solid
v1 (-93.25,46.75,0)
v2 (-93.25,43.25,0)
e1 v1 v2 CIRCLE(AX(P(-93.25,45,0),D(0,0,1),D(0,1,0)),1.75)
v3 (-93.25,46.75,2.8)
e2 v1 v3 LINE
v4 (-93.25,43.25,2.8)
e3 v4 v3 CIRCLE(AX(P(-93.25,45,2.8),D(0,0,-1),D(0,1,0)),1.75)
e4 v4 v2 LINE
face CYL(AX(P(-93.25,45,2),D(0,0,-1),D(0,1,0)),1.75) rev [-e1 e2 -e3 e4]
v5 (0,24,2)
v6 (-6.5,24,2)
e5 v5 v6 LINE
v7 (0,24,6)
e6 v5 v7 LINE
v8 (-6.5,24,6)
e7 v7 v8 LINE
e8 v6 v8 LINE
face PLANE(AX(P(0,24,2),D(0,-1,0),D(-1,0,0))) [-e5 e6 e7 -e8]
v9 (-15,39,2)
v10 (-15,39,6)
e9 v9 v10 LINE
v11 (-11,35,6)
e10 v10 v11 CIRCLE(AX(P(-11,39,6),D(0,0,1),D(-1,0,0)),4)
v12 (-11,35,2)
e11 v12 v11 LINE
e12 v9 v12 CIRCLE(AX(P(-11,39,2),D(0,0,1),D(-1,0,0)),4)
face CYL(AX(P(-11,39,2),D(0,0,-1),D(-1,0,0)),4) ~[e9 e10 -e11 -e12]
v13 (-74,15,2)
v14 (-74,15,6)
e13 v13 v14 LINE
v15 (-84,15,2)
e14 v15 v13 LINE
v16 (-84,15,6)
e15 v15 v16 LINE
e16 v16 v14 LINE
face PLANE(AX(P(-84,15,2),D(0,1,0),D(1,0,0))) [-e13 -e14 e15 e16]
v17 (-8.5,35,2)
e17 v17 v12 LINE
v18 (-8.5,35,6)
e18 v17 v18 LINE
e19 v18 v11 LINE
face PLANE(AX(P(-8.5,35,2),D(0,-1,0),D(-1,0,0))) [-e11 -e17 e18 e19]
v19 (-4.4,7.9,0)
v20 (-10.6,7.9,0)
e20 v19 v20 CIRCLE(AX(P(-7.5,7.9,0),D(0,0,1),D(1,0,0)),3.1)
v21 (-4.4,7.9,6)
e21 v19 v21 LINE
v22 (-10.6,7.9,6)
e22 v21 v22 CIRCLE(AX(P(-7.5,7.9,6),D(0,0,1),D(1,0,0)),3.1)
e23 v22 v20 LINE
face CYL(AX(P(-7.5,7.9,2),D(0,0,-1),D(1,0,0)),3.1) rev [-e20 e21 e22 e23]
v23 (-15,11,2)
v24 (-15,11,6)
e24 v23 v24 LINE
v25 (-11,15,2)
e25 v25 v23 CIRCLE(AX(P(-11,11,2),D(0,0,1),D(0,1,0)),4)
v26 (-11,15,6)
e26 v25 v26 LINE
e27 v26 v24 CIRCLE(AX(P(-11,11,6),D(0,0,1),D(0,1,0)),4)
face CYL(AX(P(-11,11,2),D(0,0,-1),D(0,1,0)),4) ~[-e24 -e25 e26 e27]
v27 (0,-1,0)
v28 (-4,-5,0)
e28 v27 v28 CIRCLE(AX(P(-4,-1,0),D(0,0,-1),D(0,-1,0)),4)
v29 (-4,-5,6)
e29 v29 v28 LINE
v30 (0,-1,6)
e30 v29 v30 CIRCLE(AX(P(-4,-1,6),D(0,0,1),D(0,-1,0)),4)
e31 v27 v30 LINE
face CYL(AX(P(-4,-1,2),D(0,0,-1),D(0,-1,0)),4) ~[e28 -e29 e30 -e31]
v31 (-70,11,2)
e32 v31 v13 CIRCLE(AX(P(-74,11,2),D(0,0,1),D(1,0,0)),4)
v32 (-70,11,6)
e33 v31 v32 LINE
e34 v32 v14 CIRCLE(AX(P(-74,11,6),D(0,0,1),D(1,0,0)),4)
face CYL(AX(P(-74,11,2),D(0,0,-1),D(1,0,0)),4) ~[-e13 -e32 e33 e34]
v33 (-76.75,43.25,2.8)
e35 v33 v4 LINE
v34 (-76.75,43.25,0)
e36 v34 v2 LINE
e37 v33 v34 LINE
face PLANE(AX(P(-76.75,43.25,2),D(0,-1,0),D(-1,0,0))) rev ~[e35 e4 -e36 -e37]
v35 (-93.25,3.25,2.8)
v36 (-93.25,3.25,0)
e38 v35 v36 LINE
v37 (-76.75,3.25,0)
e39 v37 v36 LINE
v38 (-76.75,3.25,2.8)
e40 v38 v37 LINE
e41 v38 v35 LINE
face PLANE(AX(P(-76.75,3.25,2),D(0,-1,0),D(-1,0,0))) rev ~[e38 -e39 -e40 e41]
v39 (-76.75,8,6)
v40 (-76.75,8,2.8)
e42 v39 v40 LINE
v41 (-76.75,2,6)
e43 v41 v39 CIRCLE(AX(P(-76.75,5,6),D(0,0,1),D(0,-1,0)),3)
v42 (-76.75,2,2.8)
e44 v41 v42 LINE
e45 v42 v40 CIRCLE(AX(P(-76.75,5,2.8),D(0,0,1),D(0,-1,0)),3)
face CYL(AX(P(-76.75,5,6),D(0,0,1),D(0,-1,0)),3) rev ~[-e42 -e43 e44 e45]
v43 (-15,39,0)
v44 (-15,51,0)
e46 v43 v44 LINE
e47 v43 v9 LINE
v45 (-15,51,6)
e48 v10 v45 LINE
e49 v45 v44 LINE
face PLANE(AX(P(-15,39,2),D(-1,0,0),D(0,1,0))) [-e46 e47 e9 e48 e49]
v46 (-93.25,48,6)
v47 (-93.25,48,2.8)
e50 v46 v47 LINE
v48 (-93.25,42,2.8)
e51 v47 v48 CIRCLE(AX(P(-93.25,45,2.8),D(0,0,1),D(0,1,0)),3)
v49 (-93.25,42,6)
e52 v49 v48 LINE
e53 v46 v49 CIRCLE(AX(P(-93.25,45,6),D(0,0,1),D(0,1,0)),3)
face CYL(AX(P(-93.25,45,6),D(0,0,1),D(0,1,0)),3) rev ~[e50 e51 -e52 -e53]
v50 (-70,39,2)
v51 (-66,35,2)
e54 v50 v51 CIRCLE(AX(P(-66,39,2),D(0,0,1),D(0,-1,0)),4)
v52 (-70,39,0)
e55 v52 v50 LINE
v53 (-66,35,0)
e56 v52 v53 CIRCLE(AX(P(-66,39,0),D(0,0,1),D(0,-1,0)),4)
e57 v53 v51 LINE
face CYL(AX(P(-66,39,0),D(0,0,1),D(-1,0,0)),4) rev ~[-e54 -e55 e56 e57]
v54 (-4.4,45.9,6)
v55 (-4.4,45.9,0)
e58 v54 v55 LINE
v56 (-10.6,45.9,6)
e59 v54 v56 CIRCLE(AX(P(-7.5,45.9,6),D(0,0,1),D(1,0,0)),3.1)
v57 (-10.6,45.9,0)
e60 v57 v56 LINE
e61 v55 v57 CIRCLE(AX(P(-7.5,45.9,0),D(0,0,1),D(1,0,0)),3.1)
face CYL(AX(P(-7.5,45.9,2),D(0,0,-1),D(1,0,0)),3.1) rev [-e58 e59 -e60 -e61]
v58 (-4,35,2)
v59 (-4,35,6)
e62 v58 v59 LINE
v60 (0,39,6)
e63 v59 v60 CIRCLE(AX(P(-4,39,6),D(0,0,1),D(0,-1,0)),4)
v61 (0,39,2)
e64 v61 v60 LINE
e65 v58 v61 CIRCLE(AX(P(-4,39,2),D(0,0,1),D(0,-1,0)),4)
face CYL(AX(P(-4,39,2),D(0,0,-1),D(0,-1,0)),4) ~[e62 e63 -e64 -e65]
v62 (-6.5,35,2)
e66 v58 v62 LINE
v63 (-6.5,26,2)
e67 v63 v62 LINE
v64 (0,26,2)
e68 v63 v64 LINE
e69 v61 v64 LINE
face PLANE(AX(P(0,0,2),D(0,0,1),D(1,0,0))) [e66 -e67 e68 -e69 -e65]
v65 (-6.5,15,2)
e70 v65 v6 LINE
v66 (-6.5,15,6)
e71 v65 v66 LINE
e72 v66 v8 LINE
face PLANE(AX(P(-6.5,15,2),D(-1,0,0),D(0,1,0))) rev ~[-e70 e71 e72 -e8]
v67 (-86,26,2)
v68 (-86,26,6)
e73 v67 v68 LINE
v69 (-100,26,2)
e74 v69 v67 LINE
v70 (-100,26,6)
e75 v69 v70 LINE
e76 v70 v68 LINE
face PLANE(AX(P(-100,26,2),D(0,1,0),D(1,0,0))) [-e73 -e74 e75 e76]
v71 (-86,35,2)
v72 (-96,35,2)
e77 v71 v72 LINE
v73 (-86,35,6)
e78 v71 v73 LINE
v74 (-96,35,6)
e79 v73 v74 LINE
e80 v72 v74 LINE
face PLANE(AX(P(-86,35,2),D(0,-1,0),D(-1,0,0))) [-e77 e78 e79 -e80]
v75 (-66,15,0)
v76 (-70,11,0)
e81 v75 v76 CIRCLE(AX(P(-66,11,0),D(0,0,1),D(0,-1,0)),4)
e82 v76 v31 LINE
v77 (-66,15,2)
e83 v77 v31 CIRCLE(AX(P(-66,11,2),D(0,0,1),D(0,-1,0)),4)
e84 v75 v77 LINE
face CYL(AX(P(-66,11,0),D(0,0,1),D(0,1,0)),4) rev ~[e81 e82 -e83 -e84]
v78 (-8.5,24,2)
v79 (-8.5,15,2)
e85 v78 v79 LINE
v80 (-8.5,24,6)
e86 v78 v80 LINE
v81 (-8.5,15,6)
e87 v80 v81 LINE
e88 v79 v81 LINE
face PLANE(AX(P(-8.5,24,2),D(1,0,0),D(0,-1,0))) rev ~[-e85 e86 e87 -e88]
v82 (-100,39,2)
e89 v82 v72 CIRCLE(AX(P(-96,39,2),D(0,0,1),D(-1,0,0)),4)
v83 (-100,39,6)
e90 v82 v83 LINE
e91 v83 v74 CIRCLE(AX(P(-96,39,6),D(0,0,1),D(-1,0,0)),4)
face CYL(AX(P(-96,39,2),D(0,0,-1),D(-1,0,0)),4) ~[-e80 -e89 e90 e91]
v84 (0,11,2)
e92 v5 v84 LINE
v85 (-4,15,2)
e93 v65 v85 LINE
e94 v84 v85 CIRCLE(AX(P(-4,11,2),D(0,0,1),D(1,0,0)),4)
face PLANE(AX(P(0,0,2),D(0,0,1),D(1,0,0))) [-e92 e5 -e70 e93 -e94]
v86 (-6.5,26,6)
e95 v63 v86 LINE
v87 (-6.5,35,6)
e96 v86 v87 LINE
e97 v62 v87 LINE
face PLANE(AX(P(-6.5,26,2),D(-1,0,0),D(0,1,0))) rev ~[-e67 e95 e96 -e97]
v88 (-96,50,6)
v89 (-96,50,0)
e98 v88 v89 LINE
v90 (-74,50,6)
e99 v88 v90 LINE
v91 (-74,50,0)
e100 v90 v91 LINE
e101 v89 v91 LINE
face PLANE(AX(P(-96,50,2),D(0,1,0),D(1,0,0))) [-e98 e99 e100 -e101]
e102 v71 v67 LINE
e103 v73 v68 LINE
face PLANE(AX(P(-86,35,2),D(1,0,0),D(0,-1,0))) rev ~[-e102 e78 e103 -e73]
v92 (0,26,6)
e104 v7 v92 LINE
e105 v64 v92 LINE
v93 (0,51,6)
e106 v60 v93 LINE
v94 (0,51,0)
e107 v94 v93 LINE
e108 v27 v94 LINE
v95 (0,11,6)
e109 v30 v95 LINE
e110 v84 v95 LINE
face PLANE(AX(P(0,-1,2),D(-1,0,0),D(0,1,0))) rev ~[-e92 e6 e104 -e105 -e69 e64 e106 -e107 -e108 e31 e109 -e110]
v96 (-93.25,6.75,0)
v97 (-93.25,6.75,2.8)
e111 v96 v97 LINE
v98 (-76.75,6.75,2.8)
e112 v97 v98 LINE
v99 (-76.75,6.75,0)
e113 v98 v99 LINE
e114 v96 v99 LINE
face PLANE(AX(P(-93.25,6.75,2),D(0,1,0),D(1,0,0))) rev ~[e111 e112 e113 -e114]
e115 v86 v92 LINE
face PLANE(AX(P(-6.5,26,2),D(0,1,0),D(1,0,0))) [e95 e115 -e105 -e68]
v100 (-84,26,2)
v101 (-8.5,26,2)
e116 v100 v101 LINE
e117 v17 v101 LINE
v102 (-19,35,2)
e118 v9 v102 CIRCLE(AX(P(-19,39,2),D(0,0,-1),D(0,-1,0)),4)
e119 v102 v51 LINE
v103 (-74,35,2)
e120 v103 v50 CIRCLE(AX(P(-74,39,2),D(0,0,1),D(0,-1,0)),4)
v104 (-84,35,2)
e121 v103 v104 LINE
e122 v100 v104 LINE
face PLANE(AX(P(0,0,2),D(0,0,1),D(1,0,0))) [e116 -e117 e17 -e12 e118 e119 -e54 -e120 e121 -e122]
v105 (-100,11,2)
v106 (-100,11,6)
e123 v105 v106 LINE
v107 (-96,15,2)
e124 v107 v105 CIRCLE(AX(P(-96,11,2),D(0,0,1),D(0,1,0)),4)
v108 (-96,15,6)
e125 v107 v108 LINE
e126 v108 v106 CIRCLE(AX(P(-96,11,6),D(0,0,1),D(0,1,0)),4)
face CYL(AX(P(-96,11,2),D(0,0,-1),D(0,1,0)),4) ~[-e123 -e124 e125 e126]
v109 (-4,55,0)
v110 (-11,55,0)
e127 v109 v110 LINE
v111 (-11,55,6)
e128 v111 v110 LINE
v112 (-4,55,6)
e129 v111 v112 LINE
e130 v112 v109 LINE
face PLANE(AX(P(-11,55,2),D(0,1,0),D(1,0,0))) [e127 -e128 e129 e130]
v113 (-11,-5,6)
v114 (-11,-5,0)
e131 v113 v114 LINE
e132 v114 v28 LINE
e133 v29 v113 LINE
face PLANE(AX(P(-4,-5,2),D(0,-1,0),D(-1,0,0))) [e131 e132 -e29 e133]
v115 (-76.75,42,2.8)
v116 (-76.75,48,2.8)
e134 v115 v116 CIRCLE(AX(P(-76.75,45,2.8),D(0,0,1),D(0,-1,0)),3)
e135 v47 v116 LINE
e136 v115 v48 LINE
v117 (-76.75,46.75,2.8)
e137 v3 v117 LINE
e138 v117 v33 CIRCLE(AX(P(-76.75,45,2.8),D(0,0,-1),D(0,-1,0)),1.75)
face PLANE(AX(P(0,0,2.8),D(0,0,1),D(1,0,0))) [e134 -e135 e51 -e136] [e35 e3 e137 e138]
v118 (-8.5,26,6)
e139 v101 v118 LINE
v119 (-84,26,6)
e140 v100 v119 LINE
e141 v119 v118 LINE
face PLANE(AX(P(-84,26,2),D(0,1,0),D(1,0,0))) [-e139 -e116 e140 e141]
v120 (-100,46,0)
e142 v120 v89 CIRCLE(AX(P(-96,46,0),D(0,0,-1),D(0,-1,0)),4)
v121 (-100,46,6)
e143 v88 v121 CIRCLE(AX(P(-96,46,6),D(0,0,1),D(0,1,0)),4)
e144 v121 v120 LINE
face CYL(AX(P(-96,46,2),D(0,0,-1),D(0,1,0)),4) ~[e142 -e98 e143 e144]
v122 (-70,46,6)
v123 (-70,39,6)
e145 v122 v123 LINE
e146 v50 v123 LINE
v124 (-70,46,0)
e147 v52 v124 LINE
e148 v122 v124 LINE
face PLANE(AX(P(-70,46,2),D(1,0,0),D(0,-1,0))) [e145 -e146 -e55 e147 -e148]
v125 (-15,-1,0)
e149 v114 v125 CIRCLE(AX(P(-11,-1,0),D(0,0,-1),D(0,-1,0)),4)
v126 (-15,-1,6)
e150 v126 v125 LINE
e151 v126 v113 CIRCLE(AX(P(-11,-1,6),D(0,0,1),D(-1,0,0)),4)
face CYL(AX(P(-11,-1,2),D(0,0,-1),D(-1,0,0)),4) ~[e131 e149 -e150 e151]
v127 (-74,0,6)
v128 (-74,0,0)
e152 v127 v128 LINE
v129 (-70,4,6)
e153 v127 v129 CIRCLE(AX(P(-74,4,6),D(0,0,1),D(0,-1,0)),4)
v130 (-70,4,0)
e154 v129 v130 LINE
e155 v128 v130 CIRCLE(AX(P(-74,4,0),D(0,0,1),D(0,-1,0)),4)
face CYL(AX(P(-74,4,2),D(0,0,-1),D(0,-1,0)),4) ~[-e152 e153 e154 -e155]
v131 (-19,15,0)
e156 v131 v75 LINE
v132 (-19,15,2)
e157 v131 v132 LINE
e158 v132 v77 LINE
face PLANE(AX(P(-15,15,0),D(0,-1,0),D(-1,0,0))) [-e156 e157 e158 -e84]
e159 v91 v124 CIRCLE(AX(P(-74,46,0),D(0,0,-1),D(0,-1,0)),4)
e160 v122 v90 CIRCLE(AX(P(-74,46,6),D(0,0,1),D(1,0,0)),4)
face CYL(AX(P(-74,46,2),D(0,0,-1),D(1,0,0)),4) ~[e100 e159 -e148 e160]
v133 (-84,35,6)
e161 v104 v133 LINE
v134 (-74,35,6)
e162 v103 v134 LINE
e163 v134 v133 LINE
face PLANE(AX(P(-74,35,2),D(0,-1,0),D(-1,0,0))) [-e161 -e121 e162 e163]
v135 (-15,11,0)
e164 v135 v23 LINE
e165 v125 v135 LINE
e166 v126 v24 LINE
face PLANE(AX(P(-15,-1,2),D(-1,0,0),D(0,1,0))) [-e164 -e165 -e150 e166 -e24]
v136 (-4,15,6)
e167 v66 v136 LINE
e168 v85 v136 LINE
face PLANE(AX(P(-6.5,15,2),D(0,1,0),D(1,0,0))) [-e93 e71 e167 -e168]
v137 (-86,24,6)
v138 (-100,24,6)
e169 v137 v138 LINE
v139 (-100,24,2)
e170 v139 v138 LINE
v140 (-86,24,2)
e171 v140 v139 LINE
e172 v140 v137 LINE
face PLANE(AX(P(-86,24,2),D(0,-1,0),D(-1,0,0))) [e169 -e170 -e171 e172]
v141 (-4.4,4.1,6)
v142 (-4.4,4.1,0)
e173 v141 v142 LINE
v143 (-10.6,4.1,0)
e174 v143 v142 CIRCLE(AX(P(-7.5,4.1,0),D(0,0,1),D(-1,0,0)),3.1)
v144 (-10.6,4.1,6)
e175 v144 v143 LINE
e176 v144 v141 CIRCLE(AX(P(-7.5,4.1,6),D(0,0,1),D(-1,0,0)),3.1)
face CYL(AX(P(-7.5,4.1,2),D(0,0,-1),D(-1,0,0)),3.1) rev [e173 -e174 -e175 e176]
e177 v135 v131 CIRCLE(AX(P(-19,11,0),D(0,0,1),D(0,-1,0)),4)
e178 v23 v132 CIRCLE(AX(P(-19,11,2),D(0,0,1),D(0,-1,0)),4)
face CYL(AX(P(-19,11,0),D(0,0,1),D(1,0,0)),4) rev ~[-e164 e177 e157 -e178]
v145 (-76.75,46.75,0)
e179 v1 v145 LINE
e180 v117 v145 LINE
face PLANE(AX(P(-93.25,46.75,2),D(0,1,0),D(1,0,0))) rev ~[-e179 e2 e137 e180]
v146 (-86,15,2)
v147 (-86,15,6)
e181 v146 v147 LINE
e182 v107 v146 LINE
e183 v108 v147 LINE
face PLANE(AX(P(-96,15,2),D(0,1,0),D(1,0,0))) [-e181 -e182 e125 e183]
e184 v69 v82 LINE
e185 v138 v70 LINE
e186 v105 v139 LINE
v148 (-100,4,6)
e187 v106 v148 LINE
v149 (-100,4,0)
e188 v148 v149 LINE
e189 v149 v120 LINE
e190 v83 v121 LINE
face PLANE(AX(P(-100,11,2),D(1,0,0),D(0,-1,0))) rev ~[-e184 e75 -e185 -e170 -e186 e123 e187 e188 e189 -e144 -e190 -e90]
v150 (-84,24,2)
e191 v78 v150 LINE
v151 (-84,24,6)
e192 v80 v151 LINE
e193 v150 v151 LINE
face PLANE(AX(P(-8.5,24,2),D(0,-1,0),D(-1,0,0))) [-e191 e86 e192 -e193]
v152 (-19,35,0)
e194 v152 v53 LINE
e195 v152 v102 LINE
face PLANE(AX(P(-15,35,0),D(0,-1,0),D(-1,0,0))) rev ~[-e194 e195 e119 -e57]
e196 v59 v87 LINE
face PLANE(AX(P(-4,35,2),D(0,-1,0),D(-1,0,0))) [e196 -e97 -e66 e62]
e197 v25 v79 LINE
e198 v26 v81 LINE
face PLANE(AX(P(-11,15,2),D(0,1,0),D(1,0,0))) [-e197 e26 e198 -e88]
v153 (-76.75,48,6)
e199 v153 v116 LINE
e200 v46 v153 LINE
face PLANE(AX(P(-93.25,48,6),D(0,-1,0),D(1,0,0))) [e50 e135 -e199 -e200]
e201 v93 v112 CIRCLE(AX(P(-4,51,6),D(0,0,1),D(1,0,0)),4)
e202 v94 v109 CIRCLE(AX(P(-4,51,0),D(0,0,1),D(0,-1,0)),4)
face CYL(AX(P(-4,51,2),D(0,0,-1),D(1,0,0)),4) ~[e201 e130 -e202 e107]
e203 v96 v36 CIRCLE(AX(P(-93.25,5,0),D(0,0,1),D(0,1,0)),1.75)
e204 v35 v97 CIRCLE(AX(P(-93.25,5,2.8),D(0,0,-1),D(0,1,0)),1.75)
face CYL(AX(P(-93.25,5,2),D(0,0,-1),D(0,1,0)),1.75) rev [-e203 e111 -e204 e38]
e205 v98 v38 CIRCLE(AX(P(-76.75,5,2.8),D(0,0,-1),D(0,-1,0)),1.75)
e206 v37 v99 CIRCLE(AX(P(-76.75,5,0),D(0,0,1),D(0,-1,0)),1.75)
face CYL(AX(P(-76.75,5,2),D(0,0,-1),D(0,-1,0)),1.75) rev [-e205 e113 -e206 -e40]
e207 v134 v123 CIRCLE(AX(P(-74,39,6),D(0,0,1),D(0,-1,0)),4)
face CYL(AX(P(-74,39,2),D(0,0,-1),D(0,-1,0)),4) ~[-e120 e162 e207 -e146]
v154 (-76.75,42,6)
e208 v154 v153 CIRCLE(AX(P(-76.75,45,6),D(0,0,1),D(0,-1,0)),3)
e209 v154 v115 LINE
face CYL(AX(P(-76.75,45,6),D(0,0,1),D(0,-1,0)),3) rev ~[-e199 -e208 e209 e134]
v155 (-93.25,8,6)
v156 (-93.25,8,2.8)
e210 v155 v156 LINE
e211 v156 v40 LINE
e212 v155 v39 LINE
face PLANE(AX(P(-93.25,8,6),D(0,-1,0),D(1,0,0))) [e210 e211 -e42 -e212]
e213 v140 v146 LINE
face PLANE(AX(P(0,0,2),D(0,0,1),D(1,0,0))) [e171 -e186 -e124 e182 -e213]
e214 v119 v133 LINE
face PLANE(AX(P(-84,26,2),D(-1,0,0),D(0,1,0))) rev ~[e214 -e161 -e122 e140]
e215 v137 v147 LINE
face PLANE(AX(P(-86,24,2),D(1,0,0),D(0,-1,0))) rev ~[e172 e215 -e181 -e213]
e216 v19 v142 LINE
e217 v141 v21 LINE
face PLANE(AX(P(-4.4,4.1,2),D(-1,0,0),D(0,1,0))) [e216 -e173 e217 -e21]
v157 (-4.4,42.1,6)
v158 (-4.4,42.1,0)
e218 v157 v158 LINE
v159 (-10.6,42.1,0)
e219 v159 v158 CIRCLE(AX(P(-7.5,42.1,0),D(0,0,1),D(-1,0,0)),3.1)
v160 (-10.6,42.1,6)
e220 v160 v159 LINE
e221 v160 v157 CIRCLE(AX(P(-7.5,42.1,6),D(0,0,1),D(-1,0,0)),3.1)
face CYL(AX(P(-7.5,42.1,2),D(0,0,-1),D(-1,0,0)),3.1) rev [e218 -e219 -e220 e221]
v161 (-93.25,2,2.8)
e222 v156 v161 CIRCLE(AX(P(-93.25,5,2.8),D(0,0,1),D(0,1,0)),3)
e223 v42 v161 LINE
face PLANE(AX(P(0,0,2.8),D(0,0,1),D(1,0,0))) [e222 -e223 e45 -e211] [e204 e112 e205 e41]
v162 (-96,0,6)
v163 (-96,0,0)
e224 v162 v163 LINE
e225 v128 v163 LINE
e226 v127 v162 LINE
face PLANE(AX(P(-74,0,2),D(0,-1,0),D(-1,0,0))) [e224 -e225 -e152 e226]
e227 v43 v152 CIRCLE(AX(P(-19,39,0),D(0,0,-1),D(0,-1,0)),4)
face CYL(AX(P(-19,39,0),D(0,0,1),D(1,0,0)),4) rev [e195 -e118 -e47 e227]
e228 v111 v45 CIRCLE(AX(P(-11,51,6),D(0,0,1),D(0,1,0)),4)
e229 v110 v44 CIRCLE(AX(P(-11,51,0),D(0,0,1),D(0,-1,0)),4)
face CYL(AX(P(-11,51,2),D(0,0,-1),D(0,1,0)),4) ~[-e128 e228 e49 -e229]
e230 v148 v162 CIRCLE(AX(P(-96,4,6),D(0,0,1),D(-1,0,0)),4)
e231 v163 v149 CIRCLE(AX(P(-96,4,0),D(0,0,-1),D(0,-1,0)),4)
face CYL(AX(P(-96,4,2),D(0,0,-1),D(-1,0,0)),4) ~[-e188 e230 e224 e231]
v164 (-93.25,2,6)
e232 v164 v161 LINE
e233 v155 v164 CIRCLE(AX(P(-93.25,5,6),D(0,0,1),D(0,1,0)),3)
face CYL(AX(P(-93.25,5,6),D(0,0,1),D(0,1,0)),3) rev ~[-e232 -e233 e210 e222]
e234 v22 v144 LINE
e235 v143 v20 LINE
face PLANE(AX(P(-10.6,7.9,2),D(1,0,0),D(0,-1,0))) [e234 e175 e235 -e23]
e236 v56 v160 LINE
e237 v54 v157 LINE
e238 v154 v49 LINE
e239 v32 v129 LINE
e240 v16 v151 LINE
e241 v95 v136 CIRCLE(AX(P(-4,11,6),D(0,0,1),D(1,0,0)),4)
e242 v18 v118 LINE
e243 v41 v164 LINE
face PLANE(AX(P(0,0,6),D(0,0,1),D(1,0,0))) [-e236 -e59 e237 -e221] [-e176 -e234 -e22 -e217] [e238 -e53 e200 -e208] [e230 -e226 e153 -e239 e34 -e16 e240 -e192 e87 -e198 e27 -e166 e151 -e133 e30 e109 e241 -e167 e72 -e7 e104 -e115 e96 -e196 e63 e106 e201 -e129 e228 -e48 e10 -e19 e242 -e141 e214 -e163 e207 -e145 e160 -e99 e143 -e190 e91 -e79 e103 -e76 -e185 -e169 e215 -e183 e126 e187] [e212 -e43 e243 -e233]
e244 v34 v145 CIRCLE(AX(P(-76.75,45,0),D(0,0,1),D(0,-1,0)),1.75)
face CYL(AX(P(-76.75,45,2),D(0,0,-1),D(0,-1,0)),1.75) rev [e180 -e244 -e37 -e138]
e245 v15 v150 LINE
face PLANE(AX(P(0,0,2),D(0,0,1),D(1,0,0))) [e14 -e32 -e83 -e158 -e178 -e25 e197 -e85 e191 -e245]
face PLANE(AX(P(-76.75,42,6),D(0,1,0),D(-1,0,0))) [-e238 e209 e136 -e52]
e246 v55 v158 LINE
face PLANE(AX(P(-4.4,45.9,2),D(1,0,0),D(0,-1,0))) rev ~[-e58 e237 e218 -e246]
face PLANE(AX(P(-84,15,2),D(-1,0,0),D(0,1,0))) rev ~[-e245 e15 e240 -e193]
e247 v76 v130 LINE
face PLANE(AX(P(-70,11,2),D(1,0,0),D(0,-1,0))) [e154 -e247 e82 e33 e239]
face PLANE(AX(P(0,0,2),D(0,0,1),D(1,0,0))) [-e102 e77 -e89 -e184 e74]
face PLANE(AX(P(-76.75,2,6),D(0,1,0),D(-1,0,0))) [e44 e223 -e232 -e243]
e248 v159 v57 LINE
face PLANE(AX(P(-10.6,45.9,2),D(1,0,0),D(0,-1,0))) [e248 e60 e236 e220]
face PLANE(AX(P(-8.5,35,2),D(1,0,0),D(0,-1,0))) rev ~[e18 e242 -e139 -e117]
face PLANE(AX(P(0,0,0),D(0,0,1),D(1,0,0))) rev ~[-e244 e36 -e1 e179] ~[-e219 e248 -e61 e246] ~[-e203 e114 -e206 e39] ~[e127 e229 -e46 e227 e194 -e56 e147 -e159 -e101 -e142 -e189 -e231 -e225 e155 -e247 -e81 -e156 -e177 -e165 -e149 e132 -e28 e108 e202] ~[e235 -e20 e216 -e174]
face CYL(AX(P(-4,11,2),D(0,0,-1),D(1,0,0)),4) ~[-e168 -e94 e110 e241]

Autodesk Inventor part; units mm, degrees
ref_plane "YZ Plane" through (0, 0, 0) normal (1, 0, 0) x (0, 1, 0)
ref_plane "XZ Plane" through (0, 0, 0) normal (0, 1, 0) x (-1, 0, 0)
ref_plane "XY Plane" through (0, 0, 0) normal (0, 0, 1) x (1, 0, 0)
sketch "Sketch1" plane through (0, 0, 0) normal (0, 0, 1) x (1, 0, 0)
  line L0 (0, 0) -> (-100, 0)
  line L1 (-100, 0) -> (-100, 50)
  line L2 (-100, 50) -> (0, 50)
  line L3 (0, 50) -> (0, 0)
  line L4 (-93.25, 46.75) -> (-76.75, 46.75)
  line L5 (-75, 45) -> (-75, 45)
  line L6 (-76.75, 43.25) -> (-93.25, 43.25)
  line L7 (-95, 45) -> (-95, 45)
  line L8 (-93.25, 6.75) -> (-76.75, 6.75)
  line L9 (-75, 5) -> (-75, 5)
  line L10 (-76.75, 3.25) -> (-93.25, 3.25)
  line L11 (-95, 5) -> (-95, 5)
  arc A0 (-93.25, 46.75) -> (-95, 45) centre (-93.25, 45) ccw
  arc A1 (-95, 45) -> (-93.25, 43.25) centre (-93.25, 45) ccw
  arc A2 (-75, 45) -> (-76.75, 46.75) centre (-76.75, 45) ccw
  arc A3 (-76.75, 43.25) -> (-75, 45) centre (-76.75, 45) ccw
  arc A4 (-75, 5) -> (-76.75, 6.75) centre (-76.75, 5) ccw
  arc A5 (-93.25, 6.75) -> (-95, 5) centre (-93.25, 5) ccw
  arc A6 (-95, 5) -> (-93.25, 3.25) centre (-93.25, 5) ccw
  arc A7 (-76.75, 3.25) -> (-75, 5) centre (-76.75, 5) ccw
  line L12 (0, 55) -> (-15, 55)
  line L13 (-15, 55) -> (-15, -5)
  line L14 (-15, -5) -> (0, -5)
  line L15 (0, -5) -> (0, 55)
  line L16 (-70, 50) -> (-15, 50)
  line L17 (-15, 50) -> (-15, 35)
  line L18 (-15, 35) -> (-70, 35)
  line L19 (-70, 35) -> (-70, 50)
  line L20 (-70, 0) -> (-15, 0)
  line L21 (-15, 0) -> (-15, 15)
  line L22 (-15, 15) -> (-70, 15)
  line L23 (-70, 15) -> (-70, 0)
  point P0 (-75, 43.25)
  point P1 (-75, 46.75)
  point P2 (-95, 43.25)
  point P3 (-95, 6.75)
  point P4 (-75, 3.25)
  point P5 (-75, 6.75)
  dimension "d0" = 100
  dimension "d1" = 50
  dimension "d2" = 20
  dimension "d3" = 3.5
  dimension "d4" = 3.5
  dimension "d5" = 36.5
  dimension "d6" = 3.25
  dimension "d7" = 5
  dimension "d8" = 1.75
  dimension "d11" = 15
  dimension "d12" = 60
  dimension "d13" = 15
  dimension "d14" = 15
  dimension "d17" = 55
  dimension "d18" = 15
  dimension "d19" = 5
extrude "Extrusion1" add sketch "Sketch1" along normal blind 2 contours L15 L14 L13 L0 | L0 L13 L2 L3 | L2 L13 L12 L15 | L0 L1 L2 L19 L18 L13 L22 L23
fillet "Fillet1" radius 4 12 edges at (-70, 50, 1) (-70, 35, 1) (-100, 50, 1) (-100, 0, 1) (-70, 0, 1) (-70, 15, 1) (-15, 15, 1) (-15, 35, 1) (-15, 55, 1) (0, 55, 1) (0, -5, 1) (-15, -5, 1)
sketch "Sketch2" plane through (0, 0, 2) normal (0, 0, 1) x (1, 0, 0)
  line L0 (-7.5, 49) -> (-7.5, 49)
  line L1 (-4.4, 45.9) -> (-4.4, 42.1)
  line L2 (-7.5, 39) -> (-7.5, 39)
  line L3 (-10.6, 42.1) -> (-10.6, 45.9)
  line L4 (-7.5, 11) -> (-7.5, 11)
  line L5 (-4.4, 7.9) -> (-4.4, 4.1)
  line L6 (-7.5, 1) -> (-7.5, 1)
  line L7 (-10.6, 4.1) -> (-10.6, 7.9)
  line L8 (0, -1) -> (0, 51) projected
  line L9 (-4, 55) -> (-11, 55) projected
  line L10 (-11, -5) -> (-4, -5) projected
  arc A0 (-7.5, 49) -> (-10.6, 45.9) centre (-7.5, 45.9) ccw
  arc A1 (-4.4, 45.9) -> (-7.5, 49) centre (-7.5, 45.9) ccw
  arc A2 (-7.5, 39) -> (-4.4, 42.1) centre (-7.5, 42.1) ccw
  arc A3 (-10.6, 42.1) -> (-7.5, 39) centre (-7.5, 42.1) ccw
  arc A4 (-7.5, 11) -> (-10.6, 7.9) centre (-7.5, 7.9) ccw
  arc A5 (-7.5, 1) -> (-4.4, 4.1) centre (-7.5, 4.1) ccw
  arc A6 (-4.4, 7.9) -> (-7.5, 11) centre (-7.5, 7.9) ccw
  arc A7 (-10.6, 4.1) -> (-7.5, 1) centre (-7.5, 4.1) ccw
  point P0 (0, 0)
  point P1 (-4.4, 39)
  point P2 (-4.4, 49)
  point P3 (-10.6, 39)
  point P4 (-4.4, 1)
  point P5 (-4.4, 11)
  point P6 (-10.6, 1)
  point P7 (-7.5, 49)
  point P8 (-7.5, 1)
  point P9 (-7.5, 1)
  dimension "d21" = 6.2
  dimension "d22" = 10
  dimension "d23" = 6.2
  dimension "d24" = 10
  dimension "d25" = 4.4
  dimension "d26" = 4.4
  dimension "d27" = 6
  dimension "d28" = 6
  dimension "d29" = 3.1
extrude "Extrusion2" cut sketch "Sketch2" against normal blind 2
sketch "Sketch3" plane through (0, 0, 2) normal (0, 0, 1) x (1, 0, 0)
  line L0 (0, -1) -> (0, 51) projected
  line L1 (-100, 24) -> (-100, 26)
  line L2 (0, 26) -> (0, 24)
  line L3 (-11, 55) -> (-4, 55)
  line L4 (0, 51) -> (0, 39)
  line L5 (-15, 39) -> (-15, 51)
  line L6 (-4, -5) -> (-11, -5)
  line L7 (-15, -1) -> (-15, 11)
  line L8 (0, 11) -> (0, -1)
  line L9 (-96, 50) -> (-74, 50)
  line L10 (-70, 46) -> (-70, 39)
  line L11 (-100, 39) -> (-100, 46)
  line L12 (-100, 46) -> (-100, 4) projected
  line L13 (-74, 0) -> (-96, 0)
  line L14 (-100, 4) -> (-100, 11)
  line L15 (-70, 11) -> (-70, 4)
  arc A0 (-96, 50) -> (-100, 46) centre (-96, 46) ccw
  arc A1 (-70, 46) -> (-74, 50) centre (-74, 46) ccw
  arc A2 (-100, 39) -> (-96, 35) centre (-96, 39) ccw
  arc A3 (-74, 35) -> (-70, 39) centre (-74, 39) ccw
  arc A4 (-96, 15) -> (-100, 11) centre (-96, 11) ccw
  arc A5 (-100, 4) -> (-96, 0) centre (-96, 4) ccw
  arc A6 (-74, 0) -> (-70, 4) centre (-74, 4) ccw
  arc A7 (-70, 11) -> (-74, 15) centre (-74, 11) ccw
  arc A8 (-11, 15) -> (-15, 11) centre (-11, 11) ccw
  arc A9 (0, 11) -> (-4, 15) centre (-4, 11) ccw
  arc A10 (-4, -5) -> (0, -1) centre (-4, -1) ccw
  arc A11 (-15, -1) -> (-11, -5) centre (-11, -1) ccw
  arc A12 (-15, 39) -> (-11, 35) centre (-11, 39) ccw
  arc A13 (-4, 35) -> (0, 39) centre (-4, 39) ccw
  arc A14 (0, 51) -> (-4, 55) centre (-4, 51) ccw
  arc A15 (-11, 55) -> (-15, 51) centre (-11, 51) ccw
  line L16 (-100, 26) -> (-86, 26)
  line L17 (-86, 35) -> (-86, 26)
  line L18 (-86, 24) -> (-86, 15)
  line L19 (-86, 24) -> (-100, 24)
  line L20 (-84, 15) -> (-84, 24)
  line L21 (-84, 26) -> (-84, 35)
  line L22 (-96, 15) -> (-86, 15)
  line L23 (-84, 15) -> (-74, 15)
  line L24 (-74, 35) -> (-84, 35)
  line L25 (-86, 35) -> (-96, 35)
  line L26 (-4, 35) -> (-6.5, 35)
  line L27 (-8.5, 35) -> (-11, 35)
  line L28 (-84, 26) -> (-8.5, 26)
  line L29 (-6.5, 26) -> (0, 26)
  line L30 (-8.5, 35) -> (-8.5, 26)
  line L31 (-8.5, 24) -> (-8.5, 15)
  line L32 (-6.5, 15) -> (-6.5, 24)
  line L33 (-6.5, 26) -> (-6.5, 35)
  line L34 (0, 24) -> (-6.5, 24)
  line L35 (-8.5, 24) -> (-84, 24)
  line L36 (-11, 15) -> (-8.5, 15)
  line L37 (-6.5, 15) -> (-4, 15)
  line L38 (-10.6, 45.9) -> (-10.6, 42.1) projected
  line L39 (-10.6, 45.9) -> (-10.6, 42.1)
  arc A16 (-10.6, 42.1) -> (-4.4, 42.1) centre (-7.5, 42.1) ccw projected
  arc A17 (-10.6, 42.1) -> (-4.4, 42.1) centre (-7.5, 42.1) ccw
  arc A18 (-4.4, 45.9) -> (-10.6, 45.9) centre (-7.5, 45.9) ccw projected
  arc A19 (-4.4, 45.9) -> (-10.6, 45.9) centre (-7.5, 45.9) ccw
  line L40 (-4.4, 45.9) -> (-4.4, 42.1)
  arc A20 (-4.4, 7.9) -> (-10.6, 7.9) centre (-7.5, 7.9) ccw projected
  arc A21 (-4.4, 7.9) -> (-10.6, 7.9) centre (-7.5, 7.9) ccw
  arc A22 (-10.6, 4.1) -> (-4.4, 4.1) centre (-7.5, 4.1) ccw projected
  arc A23 (-10.6, 4.1) -> (-4.4, 4.1) centre (-7.5, 4.1) ccw
  line L41 (-10.6, 7.9) -> (-10.6, 4.1) projected
  line L42 (-10.6, 7.9) -> (-10.6, 4.1)
  line L43 (-4.4, 4.1) -> (-4.4, 7.9) projected
  line L44 (-4.4, 4.1) -> (-4.4, 7.9)
  arc A24 (-93.25, 46.75) -> (-93.25, 43.25) centre (-93.25, 45) ccw projected
  line L45 (-93.25, 46.75) -> (-76.75, 46.75) projected
  line L46 (-93.25, 46.75) -> (-76.75, 46.75)
  arc A25 (-93.25, 46.75) -> (-93.25, 43.25) centre (-93.25, 45) ccw
  arc A26 (-76.75, 43.25) -> (-76.75, 46.75) centre (-76.75, 45) ccw
  line L47 (-76.75, 43.25) -> (-93.25, 43.25) projected
  line L48 (-93.25, 43.25) -> (-76.75, 43.25)
  arc A27 (-93.25, 6.75) -> (-93.25, 3.25) centre (-93.25, 5) ccw projected
  line L49 (-93.25, 6.75) -> (-76.75, 6.75)
  arc A28 (-76.75, 3.25) -> (-76.75, 6.75) centre (-76.75, 5) ccw projected
  arc A29 (-76.75, 3.25) -> (-76.75, 6.75) centre (-76.75, 5) ccw
  line L50 (-76.75, 3.25) -> (-93.25, 3.25)
  point P0 (0, 0)
  point P1 (0, 25)
  point P2 (0, 35)
  point P3 (0, 55)
  point P4 (0, -5)
  point P5 (-15, 15)
  point P6 (-15, -5)
  point P7 (-70, 35)
  point P8 (-100, 35)
  point P9 (-70, 0)
  point P10 (-100, 15)
  point P11 (-85, 35)
  point P12 (-7.5, 35)
  dimension "d32" = 100
  dimension "d33" = 2
  dimension "d35" = 20
  dimension "d36" = 20
  dimension "d37" = 4
extrude "Extrusion3" add sketch "Sketch3" along normal blind 4 contours A10 L6 A11 L7 A8 L36 L31 L35 L20 L23 A7 L15 A6 L13 A5 L12 A4 L22 L18 L19 L1 L16 L17 L25 A2 L11 A0 L9 A1 L10 A3 L24 L21 L28 L30 L27 A12 L5 A15 L3 A14 L0 A13 L26 L33 L29 L34 L32 L37 A9
sketch "Sketch5" plane through (0, 0, 6) normal (0, 0, 1) x (1, 0, 0)
  line L0 (-93.25, 6.75) -> (-76.75, 6.75) projected
  arc A0 (-76.75, 3.25) -> (-76.75, 6.75) centre (-76.75, 5) ccw projected
  arc A1 (-93.25, 6.75) -> (-93.25, 3.25) centre (-93.25, 5) ccw projected
  line L1 (-76.75, 3.25) -> (-93.25, 3.25) projected
  arc A2 (-76.75, 2) -> (-76.75, 8) centre (-76.75, 5) ccw
  arc A3 (-93.25, 8) -> (-93.25, 2) centre (-93.25, 5) ccw
  line L2 (-76.75, 2) -> (-93.25, 2)
  line L3 (-93.25, 8) -> (-76.75, 8)
  line L4 (-70, 0) -> (-70, 7.5)
  line L5 (-70, 4) -> (-70, 11) projected
  arc A4 (-76.75, 42) -> (-76.75, 48) centre (-76.75, 45) ccw
  arc A5 (-93.25, 48) -> (-93.25, 42) centre (-93.25, 45) ccw
  line L6 (-76.75, 42) -> (-93.25, 42)
  line L7 (-93.25, 48) -> (-76.75, 48)
  point P0 (-75, 5)
  point P1 (-75, 45)
  dimension "d68" = 6
  dimension "d69" = 6
  dimension "d72" = 40
extrude "Extrusion4" cut sketch "Sketch5" against normal blind 3.2 contours L0 A0 L1 A1 | L2 A3 L3 A2 | L6 A5 L7 A4
equation "\"d26\" = d25"
properties part number "panel_holder"
